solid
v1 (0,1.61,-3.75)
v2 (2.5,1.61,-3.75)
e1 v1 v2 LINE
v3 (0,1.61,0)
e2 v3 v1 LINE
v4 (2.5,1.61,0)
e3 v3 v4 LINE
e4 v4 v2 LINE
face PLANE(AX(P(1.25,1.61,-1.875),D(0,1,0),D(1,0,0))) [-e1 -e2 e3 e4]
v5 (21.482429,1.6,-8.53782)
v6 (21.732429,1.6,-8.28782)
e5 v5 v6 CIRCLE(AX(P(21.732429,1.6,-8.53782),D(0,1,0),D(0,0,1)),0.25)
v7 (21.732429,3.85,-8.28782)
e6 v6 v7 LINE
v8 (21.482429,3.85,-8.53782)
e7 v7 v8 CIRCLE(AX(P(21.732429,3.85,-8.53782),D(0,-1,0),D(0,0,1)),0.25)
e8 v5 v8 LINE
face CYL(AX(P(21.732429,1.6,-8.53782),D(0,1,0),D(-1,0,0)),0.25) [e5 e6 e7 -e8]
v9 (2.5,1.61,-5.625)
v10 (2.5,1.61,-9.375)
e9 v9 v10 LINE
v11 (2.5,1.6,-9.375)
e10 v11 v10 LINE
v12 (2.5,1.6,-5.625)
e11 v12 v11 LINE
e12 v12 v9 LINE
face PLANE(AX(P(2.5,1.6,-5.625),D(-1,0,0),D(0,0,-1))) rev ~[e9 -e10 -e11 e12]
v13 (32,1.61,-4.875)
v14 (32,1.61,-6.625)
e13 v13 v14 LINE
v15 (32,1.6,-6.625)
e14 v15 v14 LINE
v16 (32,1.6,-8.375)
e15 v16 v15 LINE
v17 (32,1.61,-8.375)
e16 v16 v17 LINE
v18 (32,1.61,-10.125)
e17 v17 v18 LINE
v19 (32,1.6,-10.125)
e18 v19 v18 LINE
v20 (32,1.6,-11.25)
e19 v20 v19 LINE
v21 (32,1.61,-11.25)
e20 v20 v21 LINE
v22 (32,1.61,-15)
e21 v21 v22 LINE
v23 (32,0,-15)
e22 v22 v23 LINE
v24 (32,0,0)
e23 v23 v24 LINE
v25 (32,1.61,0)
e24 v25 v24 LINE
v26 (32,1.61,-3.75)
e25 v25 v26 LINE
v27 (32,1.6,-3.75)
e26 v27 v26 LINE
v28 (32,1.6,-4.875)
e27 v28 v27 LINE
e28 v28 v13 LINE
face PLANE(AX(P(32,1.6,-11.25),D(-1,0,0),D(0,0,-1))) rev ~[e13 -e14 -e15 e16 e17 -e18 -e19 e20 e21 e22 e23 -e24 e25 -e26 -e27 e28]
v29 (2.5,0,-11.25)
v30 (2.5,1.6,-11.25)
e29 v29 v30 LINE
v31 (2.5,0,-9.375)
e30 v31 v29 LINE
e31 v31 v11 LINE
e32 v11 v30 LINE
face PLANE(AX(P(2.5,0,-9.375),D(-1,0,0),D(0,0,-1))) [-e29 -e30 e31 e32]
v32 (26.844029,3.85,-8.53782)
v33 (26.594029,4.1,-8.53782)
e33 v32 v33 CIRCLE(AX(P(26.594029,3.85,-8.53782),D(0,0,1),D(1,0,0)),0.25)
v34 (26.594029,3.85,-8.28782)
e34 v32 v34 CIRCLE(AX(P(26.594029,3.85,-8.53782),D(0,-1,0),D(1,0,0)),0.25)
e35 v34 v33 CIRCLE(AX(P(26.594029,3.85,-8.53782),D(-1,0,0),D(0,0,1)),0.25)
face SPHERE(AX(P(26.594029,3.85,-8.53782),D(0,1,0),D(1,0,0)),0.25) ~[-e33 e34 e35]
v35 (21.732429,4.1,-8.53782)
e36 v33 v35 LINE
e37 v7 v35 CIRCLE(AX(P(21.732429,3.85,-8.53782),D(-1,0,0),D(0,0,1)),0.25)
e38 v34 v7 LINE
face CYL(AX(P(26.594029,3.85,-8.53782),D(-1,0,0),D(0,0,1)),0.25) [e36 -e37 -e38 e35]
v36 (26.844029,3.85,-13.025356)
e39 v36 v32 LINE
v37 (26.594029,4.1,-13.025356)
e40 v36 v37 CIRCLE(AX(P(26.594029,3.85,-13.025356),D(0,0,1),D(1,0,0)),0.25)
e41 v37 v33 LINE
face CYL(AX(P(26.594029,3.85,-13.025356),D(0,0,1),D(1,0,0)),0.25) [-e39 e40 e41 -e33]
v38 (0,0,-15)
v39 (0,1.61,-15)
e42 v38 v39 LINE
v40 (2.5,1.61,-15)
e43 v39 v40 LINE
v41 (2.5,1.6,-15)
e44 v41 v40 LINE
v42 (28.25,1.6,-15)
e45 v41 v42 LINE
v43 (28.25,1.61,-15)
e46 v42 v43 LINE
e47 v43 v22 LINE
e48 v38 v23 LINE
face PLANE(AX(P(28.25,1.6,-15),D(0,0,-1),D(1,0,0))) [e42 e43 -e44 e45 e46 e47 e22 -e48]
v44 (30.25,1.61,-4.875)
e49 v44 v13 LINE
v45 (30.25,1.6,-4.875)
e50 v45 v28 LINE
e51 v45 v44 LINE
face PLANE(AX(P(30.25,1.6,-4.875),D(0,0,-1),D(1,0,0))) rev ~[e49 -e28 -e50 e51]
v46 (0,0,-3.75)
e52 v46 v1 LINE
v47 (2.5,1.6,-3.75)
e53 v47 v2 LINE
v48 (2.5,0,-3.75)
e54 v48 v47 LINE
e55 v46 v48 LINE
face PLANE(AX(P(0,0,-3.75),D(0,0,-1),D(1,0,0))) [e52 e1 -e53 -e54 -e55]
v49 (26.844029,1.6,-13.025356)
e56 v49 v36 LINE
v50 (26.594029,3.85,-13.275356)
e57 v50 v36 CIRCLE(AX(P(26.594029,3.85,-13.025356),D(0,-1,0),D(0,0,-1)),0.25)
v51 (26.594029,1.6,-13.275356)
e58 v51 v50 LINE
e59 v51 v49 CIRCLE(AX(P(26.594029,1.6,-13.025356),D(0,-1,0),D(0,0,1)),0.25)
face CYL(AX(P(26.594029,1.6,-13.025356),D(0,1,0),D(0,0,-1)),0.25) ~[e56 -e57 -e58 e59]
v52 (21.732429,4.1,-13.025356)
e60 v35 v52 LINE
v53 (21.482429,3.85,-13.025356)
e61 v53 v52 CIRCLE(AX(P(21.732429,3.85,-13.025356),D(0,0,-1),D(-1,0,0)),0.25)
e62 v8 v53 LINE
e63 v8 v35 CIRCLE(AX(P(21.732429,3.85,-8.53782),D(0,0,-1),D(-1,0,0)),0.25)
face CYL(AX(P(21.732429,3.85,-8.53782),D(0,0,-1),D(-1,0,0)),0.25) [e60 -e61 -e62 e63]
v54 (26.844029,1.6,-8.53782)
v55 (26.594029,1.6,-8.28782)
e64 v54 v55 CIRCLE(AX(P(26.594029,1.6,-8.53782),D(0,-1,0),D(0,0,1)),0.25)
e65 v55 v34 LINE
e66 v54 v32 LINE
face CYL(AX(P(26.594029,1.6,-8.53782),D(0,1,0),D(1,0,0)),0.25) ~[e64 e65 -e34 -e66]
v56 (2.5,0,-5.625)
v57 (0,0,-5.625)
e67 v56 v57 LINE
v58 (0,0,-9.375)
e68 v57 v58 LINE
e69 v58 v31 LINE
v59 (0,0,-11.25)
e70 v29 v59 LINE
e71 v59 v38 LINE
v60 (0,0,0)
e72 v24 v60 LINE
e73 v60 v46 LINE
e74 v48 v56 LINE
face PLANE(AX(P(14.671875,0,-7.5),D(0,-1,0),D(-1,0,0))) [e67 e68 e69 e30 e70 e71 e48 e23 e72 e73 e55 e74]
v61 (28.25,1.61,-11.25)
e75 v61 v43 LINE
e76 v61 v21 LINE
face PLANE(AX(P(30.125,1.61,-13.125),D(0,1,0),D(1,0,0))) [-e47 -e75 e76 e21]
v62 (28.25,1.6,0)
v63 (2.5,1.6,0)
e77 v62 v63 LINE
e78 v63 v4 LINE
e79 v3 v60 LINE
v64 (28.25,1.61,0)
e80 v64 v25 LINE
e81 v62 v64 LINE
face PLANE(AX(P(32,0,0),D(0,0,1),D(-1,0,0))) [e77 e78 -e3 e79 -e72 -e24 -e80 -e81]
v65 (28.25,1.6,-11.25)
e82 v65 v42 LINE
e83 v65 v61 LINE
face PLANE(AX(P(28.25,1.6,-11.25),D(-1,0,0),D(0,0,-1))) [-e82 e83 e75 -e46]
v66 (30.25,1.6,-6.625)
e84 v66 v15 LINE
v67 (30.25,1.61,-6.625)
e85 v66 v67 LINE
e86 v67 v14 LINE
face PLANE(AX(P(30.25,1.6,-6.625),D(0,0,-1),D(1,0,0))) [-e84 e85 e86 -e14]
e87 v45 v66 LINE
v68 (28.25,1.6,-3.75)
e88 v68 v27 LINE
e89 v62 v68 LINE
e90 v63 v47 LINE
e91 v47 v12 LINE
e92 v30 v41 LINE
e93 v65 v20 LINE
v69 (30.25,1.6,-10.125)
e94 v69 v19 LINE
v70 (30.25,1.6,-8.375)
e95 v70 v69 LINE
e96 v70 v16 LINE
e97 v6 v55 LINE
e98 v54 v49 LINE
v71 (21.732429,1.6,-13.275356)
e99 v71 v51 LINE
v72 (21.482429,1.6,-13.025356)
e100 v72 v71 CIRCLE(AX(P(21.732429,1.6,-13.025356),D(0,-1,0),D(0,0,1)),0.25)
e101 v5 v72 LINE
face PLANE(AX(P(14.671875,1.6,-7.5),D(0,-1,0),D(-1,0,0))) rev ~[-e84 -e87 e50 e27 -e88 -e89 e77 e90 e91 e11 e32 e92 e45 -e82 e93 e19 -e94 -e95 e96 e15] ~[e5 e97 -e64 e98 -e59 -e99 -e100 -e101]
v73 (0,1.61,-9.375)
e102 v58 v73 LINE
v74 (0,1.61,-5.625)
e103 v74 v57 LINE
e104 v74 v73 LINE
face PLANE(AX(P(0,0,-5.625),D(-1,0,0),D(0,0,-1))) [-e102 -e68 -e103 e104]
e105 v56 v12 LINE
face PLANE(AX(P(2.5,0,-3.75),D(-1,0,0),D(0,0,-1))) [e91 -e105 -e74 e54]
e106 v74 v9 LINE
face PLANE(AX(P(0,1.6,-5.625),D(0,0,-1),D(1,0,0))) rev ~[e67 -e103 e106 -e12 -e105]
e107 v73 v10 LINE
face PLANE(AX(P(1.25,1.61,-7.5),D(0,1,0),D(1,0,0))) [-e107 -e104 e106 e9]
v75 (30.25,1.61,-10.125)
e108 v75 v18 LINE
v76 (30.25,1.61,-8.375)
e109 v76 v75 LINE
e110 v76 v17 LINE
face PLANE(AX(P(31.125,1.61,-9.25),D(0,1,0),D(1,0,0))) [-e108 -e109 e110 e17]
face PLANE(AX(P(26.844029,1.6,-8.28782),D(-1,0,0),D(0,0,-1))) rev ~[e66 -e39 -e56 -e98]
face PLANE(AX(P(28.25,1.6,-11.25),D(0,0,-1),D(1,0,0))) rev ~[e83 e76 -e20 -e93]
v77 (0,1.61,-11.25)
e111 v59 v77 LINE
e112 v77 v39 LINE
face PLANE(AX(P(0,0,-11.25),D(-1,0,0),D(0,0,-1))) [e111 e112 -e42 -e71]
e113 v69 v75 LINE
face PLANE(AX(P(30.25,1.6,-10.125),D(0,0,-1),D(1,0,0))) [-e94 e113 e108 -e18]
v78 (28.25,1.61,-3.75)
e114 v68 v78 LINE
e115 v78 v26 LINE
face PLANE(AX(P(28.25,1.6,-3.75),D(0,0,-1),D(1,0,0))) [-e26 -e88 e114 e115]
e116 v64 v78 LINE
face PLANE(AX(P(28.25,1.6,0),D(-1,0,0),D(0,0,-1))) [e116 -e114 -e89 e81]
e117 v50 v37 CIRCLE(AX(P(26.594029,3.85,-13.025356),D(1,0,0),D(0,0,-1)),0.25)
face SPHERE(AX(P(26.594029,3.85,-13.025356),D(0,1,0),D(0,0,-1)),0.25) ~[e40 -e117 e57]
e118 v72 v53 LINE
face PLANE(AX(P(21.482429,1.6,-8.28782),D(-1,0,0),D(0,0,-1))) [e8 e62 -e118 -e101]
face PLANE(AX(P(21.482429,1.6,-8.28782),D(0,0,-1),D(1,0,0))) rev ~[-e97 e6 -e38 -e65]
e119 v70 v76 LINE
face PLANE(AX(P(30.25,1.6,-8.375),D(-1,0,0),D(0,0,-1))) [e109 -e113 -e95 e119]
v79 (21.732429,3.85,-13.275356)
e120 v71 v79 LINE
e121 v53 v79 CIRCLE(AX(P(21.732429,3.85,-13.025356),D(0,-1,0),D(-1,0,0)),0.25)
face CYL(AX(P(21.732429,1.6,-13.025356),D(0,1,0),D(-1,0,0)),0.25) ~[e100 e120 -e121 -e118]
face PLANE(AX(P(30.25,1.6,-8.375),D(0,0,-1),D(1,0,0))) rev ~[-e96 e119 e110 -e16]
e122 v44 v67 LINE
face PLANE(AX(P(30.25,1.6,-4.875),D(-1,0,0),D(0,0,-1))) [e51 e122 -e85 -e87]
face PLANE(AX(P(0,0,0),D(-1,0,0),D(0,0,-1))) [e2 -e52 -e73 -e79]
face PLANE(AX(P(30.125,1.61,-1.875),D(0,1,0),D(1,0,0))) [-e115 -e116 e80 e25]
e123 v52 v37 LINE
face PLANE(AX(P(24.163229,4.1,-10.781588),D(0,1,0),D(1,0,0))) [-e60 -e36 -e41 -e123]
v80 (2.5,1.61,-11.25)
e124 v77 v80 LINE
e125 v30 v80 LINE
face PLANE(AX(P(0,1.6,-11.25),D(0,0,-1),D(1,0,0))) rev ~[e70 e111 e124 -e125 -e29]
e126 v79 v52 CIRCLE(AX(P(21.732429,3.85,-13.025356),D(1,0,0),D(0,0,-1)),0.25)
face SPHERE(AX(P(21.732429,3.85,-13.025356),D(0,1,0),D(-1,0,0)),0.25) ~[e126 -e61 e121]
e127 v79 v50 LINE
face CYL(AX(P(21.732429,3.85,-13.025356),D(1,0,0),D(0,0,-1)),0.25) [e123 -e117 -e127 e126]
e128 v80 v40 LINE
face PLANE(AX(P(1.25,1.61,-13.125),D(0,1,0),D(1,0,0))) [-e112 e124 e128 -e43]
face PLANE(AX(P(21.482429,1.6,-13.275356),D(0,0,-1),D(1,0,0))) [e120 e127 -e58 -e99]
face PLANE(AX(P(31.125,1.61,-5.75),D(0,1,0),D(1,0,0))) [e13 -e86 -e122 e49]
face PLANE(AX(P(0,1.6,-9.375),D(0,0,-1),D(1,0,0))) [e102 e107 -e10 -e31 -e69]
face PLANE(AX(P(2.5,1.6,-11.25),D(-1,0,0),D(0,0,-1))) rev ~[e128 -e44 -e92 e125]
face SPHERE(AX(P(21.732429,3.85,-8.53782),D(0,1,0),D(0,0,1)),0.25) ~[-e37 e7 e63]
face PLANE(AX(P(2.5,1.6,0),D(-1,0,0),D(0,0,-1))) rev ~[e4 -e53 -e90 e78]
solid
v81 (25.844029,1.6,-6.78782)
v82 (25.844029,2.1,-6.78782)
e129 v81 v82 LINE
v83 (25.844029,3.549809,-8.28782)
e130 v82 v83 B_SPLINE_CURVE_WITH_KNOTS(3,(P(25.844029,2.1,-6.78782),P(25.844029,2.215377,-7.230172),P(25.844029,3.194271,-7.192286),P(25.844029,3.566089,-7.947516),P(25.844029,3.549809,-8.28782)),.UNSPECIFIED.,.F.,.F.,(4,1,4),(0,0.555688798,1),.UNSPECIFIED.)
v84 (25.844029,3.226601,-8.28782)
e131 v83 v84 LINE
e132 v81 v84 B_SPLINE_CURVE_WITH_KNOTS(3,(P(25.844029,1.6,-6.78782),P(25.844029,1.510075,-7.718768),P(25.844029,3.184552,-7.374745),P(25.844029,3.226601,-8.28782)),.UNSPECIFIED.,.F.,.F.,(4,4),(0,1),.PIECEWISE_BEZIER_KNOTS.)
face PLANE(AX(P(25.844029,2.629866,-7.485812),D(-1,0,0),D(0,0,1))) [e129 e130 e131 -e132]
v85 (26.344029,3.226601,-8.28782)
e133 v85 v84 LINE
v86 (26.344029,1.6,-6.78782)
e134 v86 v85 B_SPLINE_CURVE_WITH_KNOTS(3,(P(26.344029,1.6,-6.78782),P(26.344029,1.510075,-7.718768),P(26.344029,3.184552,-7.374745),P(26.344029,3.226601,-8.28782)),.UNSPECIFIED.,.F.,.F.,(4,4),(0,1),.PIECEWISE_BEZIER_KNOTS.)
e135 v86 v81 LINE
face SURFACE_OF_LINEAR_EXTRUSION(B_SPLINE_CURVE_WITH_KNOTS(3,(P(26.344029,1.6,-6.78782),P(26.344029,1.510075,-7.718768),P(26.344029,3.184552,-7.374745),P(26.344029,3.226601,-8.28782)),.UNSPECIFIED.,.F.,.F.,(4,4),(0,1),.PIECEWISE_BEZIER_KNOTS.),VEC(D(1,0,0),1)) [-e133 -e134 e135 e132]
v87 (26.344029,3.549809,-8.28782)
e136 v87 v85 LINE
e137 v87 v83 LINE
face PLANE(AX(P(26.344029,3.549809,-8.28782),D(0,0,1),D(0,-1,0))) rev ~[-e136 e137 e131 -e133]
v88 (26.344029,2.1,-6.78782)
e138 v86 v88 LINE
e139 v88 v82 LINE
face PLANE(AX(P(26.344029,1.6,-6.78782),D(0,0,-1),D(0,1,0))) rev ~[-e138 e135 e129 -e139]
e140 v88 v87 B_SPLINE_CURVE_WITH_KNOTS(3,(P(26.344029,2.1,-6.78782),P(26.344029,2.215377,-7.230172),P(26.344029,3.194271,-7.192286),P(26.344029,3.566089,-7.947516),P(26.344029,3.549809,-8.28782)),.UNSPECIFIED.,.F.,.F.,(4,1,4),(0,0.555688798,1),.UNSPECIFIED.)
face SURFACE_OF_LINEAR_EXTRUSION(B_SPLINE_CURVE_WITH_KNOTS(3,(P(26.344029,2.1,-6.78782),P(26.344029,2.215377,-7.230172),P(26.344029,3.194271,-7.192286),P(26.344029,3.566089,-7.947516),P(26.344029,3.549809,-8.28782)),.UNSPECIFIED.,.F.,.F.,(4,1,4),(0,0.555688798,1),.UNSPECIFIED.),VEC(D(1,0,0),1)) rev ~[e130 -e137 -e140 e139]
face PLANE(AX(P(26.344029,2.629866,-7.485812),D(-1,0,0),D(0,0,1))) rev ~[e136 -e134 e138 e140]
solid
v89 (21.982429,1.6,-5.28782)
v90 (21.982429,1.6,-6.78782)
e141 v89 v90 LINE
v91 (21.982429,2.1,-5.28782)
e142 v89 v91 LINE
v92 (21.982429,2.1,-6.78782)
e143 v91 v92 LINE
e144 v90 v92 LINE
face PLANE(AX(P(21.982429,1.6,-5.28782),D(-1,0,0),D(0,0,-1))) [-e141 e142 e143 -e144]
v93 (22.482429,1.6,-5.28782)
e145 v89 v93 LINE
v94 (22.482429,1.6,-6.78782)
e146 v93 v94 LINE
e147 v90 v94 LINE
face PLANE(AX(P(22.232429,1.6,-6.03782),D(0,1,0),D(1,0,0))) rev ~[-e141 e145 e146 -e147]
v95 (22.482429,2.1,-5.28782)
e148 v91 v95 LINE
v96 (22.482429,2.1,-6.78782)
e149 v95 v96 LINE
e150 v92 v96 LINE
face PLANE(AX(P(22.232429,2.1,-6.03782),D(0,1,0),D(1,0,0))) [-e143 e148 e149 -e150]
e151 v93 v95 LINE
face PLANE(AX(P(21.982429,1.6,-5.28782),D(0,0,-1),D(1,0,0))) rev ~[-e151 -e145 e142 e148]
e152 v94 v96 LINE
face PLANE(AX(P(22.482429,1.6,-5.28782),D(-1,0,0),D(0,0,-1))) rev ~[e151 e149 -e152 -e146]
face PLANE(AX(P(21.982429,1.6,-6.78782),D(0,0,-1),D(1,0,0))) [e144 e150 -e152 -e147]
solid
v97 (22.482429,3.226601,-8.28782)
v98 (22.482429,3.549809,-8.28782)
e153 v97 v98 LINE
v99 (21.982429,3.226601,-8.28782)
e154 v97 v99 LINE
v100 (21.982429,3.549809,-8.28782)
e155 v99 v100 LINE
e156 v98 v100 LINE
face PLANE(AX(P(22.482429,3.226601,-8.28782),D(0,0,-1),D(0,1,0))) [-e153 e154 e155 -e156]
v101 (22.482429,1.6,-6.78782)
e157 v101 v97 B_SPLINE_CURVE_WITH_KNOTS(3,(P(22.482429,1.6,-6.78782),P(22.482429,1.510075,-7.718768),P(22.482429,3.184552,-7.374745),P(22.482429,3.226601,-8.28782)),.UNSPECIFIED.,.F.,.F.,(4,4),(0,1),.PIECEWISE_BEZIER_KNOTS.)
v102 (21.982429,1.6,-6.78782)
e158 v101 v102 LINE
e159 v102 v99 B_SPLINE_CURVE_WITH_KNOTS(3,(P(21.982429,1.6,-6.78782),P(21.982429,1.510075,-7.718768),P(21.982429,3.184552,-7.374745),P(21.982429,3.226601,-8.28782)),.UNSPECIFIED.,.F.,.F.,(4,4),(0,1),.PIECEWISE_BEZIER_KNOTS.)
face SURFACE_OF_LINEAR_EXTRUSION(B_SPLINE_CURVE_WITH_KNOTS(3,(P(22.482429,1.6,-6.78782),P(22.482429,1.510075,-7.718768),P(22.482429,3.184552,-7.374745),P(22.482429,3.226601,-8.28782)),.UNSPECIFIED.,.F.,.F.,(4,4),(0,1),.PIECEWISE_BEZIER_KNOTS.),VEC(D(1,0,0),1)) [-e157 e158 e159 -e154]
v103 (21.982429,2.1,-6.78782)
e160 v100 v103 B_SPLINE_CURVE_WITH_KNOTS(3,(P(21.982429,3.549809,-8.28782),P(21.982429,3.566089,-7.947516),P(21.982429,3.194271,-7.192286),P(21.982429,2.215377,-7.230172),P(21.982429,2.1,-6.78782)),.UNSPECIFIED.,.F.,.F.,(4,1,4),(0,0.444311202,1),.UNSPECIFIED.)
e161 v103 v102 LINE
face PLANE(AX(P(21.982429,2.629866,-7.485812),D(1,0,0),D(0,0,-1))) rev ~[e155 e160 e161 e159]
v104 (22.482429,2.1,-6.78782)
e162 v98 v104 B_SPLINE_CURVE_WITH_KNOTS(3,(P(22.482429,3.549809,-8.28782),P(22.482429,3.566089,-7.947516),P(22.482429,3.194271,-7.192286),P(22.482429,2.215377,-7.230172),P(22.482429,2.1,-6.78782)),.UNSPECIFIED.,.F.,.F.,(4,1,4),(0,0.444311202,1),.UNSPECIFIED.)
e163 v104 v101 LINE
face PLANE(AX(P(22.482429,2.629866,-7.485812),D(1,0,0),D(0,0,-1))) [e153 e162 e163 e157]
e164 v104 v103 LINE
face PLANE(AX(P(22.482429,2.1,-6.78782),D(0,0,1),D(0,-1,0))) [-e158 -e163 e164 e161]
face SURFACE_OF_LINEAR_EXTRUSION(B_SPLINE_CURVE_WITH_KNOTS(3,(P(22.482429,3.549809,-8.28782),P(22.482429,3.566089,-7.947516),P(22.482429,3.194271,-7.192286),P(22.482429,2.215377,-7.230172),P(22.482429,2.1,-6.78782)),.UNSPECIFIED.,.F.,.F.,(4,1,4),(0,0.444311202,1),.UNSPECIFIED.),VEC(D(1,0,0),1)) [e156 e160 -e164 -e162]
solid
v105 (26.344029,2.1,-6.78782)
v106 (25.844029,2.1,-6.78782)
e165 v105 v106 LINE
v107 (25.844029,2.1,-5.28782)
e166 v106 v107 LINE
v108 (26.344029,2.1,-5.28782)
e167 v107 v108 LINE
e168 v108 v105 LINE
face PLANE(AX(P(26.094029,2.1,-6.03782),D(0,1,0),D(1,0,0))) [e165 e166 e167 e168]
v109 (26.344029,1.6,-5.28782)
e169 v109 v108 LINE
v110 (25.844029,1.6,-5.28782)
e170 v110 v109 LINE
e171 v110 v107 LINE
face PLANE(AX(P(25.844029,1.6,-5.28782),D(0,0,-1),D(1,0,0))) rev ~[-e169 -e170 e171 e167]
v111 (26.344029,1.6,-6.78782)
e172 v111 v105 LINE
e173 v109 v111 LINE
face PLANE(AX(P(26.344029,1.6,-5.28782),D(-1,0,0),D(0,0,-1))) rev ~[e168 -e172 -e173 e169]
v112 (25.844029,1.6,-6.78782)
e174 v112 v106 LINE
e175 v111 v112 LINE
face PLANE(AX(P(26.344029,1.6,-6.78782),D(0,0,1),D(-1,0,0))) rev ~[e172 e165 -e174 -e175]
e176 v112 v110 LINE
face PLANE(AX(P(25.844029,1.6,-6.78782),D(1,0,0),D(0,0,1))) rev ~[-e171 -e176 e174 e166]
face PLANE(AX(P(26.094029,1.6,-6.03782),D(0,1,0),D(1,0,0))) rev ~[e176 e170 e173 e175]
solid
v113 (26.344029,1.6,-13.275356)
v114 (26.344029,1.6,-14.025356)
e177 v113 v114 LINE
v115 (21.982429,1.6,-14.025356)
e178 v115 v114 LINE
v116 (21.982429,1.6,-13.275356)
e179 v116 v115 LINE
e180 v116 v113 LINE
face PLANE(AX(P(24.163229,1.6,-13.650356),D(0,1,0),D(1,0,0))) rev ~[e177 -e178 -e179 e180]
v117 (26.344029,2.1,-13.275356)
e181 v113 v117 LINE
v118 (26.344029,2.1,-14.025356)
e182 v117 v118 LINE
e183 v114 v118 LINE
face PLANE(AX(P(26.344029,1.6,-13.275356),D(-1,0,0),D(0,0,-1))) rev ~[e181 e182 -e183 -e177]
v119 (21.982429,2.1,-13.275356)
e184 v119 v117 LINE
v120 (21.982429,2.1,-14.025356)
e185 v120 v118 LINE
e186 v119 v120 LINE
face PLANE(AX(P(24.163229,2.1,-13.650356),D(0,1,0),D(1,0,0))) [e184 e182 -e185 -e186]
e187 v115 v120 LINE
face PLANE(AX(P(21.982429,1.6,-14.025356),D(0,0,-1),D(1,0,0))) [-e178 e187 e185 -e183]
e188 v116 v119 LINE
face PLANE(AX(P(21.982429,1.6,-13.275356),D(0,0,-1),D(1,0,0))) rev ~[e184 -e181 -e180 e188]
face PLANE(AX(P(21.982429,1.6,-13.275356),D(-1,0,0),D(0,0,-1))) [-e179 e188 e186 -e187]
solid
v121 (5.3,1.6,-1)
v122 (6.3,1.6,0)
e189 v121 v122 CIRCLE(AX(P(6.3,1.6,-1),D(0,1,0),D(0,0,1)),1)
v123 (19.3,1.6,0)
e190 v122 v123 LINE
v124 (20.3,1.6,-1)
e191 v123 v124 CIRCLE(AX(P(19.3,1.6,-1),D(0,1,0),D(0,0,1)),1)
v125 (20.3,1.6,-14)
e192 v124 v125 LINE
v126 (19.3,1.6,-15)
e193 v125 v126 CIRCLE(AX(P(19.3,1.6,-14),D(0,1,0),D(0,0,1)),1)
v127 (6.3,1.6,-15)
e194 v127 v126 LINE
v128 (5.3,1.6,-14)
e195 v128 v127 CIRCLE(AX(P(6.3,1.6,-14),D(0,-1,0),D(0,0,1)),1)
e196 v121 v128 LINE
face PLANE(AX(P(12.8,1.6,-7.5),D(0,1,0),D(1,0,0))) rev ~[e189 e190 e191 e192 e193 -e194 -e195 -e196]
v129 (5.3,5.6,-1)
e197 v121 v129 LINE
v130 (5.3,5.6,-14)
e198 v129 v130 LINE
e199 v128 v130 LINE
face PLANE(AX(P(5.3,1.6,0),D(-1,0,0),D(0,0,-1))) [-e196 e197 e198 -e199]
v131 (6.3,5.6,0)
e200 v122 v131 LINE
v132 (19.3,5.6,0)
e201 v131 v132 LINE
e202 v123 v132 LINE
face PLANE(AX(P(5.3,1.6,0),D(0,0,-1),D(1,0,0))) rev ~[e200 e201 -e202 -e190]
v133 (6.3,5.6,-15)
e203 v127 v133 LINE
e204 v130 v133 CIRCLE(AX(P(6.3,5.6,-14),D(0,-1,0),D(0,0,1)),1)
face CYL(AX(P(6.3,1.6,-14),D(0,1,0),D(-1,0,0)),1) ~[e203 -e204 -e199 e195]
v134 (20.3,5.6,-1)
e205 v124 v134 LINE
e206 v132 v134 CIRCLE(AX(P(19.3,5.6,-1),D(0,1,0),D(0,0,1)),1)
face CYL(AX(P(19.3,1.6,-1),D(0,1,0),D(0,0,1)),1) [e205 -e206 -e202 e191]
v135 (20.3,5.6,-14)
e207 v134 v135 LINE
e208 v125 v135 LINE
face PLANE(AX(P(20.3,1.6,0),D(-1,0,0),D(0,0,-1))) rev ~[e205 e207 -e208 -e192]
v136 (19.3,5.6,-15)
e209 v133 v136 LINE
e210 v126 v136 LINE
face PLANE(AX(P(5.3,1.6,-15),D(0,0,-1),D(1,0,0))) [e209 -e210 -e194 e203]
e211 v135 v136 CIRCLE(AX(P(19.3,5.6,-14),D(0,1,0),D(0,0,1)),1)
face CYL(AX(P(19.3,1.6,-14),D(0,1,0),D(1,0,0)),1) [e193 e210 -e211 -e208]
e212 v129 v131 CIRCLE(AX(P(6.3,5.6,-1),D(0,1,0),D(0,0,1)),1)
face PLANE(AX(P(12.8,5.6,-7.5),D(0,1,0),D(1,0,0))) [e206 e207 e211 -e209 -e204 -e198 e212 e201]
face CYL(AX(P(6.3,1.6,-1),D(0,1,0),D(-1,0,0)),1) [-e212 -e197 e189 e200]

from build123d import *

# Parameters (mm, degrees)
BOSS_EXTRUDE1_DEPTH   = 1.6
SKETCH2_W             = 15
SKETCH2_H             = 15
BOSS_EXTRUDE2_DEPTH   = 4
FILLET1_R             = 1
SKETCH3_W             = 3.75
SKETCH3_H             = 3.75
SKETCH3_W_2           = 1.75
SKETCH3_H_2           = 1.75
SKETCH3_W_3           = 2.5
BOSS_EXTRUDE3_DEPTH   = 0.01
SKETCH4_W             = 5.361600472
SKETCH4_H             = 4.987535322
BOSS_EXTRUDE4_DEPTH   = 2.5
BOSS_EXTRUDE5_DEPTH   = 0.5
SKETCH6_W             = 0.5
SKETCH6_H             = 1.5
BOSS_EXTRUDE5_2_DEPTH = 0.5
SKETCH6_W_2           = 4.361600472
SKETCH6_H_2           = 0.75
BOSS_EXTRUDE5_3_DEPTH = 0.5
BOSS_EXTRUDE6_DEPTH   = 0.5
BOSS_EXTRUDE7_DEPTH   = 0.5
FILLET2_R             = 0.25
FILLET3_R             = 0.25


with BuildPart() as part:
    # Sketch1 → Boss-Extrude1 (new body)
    with BuildSketch(Plane(origin=(0, 0, 0), x_dir=(1, 0, 0), z_dir=(0, 1, 0))):
        Polygon((2.5, 9.375), (2.5, 11.25), (0, 11.25), (0, 15), (32, 15), (32, 0), (0, 0), (0, 3.75), (2.5, 3.75), (2.5, 5.625), (0, 5.625), (0, 9.375), align=None)
    extrude(amount=BOSS_EXTRUDE1_DEPTH)

    # Sketch3 → Boss-Extrude3 (add)
    with BuildSketch(Plane(origin=(0, 1.6, 0), x_dir=(1, 0, 0), z_dir=(0, 1, 0))):
        with Locations((30.125, 13.125)):
            Rectangle(SKETCH3_W, SKETCH3_H)
        with Locations((31.125, 9.25)):
            Rectangle(SKETCH3_W_2, SKETCH3_H_2)
        with Locations((31.125, 5.75)):
            Rectangle(SKETCH3_W_2, SKETCH3_H_2)
        with Locations((30.125, 1.875)):
            Rectangle(SKETCH3_W, SKETCH3_H)
        with Locations((1.25, 13.125)):
            Rectangle(SKETCH3_W_3, SKETCH3_H)
        with Locations((1.25, 7.5)):
            Rectangle(SKETCH3_W_3, SKETCH3_H)
        with Locations((1.25, 1.875)):
            Rectangle(SKETCH3_W_3, SKETCH3_H)
    extrude(amount=BOSS_EXTRUDE3_DEPTH)

    # Sketch4 → Boss-Extrude4 (add)
    with BuildSketch(Plane(origin=(0, 1.6, 0), x_dir=(1, 0, 0), z_dir=(0, 1, 0))):
        with Locations((24.163228826, 10.781587961)):
            Rectangle(SKETCH4_W, SKETCH4_H)
    extrude(amount=BOSS_EXTRUDE4_DEPTH)

    # Fillet2
    fillet2_edges = [part.edges().sort_by_distance(p)[0] for p in [
        (21.48242859, 2.85, -8.2878203),
        (26.844029062, 2.85, -8.2878203),
        (26.844029062, 2.85, -13.275355622),
        (21.48242859, 2.85, -13.275355622),
    ]]
    fillet(fillet2_edges, radius=FILLET2_R)

    # Fillet3
    fillet3_edges = [part.edges().sort_by_distance(p)[0] for p in [
        (21.48242859, 4.1, -10.781587961),
        (24.163228826, 4.1, -13.275355622),
        (24.163228826, 4.1, -8.2878203),
        (26.844029062, 4.1, -10.781587961),
        (26.770805757, 4.1, -13.202132318),
        (26.770805757, 4.1, -8.361043604),
        (21.555651895, 4.1, -8.361043604),
        (21.555651895, 4.1, -13.202132318),
    ]]
    fillet(fillet3_edges, radius=FILLET3_R)


with BuildPart() as body_2:
    # Sketch2 → Boss-Extrude2 (new body)
    with BuildSketch(Plane(origin=(0, 1.6, 0), x_dir=(1, 0, 0), z_dir=(0, 1, 0))):
        with Locations((12.8, 7.5)):
            Rectangle(SKETCH2_W, SKETCH2_H)
    extrude(amount=BOSS_EXTRUDE2_DEPTH)

    # Fillet1
    fillet1_edges = [body_2.edges().sort_by_distance(p)[0] for p in [
        (5.3, 3.6, -15),
        (20.3, 3.6, -15),
        (20.3, 3.6, 0),
        (5.3, 3.6, 0),
    ]]
    fillet(fillet1_edges, radius=FILLET1_R)


with BuildPart() as body_3:
    # Sketch6 → Boss-Extrude5 (new body)
    with BuildSketch(Plane(origin=(0, 1.6, 0), x_dir=(1, 0, 0), z_dir=(0, 1, 0))):
        Polygon((26.344029062, 6.628226466), (26.344029062, 6.7878203), (25.844029062, 6.7878203), (25.844029062, 6.628226466), (25.844029062, 5.2878203), (26.344029062, 5.2878203), align=None)
    extrude(amount=BOSS_EXTRUDE5_DEPTH)


with BuildPart() as body_4:
    # Sketch6 → Boss-Extrude5 2 (new body)
    with BuildSketch(Plane(origin=(0, 1.6, 0), x_dir=(1, 0, 0), z_dir=(0, 1, 0))):
        with Locations((22.23242859, 6.0378203)):
            Rectangle(SKETCH6_W, SKETCH6_H)
    extrude(amount=BOSS_EXTRUDE5_2_DEPTH)


with BuildPart() as body_5:
    # Sketch6 → Boss-Extrude5 3 (new body)
    with BuildSketch(Plane(origin=(0, 1.6, 0), x_dir=(1, 0, 0), z_dir=(0, 1, 0))):
        with Locations((24.163228826, 13.650355622)):
            Rectangle(SKETCH6_W_2, SKETCH6_H_2)
    extrude(amount=BOSS_EXTRUDE5_3_DEPTH)


with BuildPart() as body_6:
    # Sketch7 → Boss-Extrude6 (new body)
    with BuildSketch(Plane(origin=(26.344029062, 0, 0), x_dir=(0, 0, -1), z_dir=(1, 0, 0))):
        with BuildLine():
            add(Edge.make_bspline(
                [(6.7878203, 2.1), (7.230171652, 2.215377346), (7.192285938, 3.194271107), (7.947516495, 3.566089293), (8.2878203, 3.549808919)],
                knots=[0, 0, 0, 0, 0.555688798, 1, 1, 1, 1], degree=3))
            Line((8.2878203, 3.549808919), (8.2878203, 3.226600806))
            add(Edge.make_bspline(
                [(6.7878203, 1.6), (7.7187684, 1.510074693), (7.374744979, 3.184552482), (8.2878203, 3.226600806)],
                knots=[0, 0, 0, 0, 1, 1, 1, 1], degree=3))
            Line((6.7878203, 1.6), (6.7878203, 2.1))
        make_face()
    extrude(amount=-BOSS_EXTRUDE6_DEPTH)


with BuildPart() as body_7:
    # Sketch8 → Boss-Extrude7 (new body)
    with BuildSketch(Plane(origin=(22.48242859, 0, 0), x_dir=(0, 0, -1), z_dir=(1, 0, 0))):
        with BuildLine():
            Line((6.7878203, 2.1), (6.7878203, 1.6))
            add(Edge.make_bspline(
                [(6.7878203, 1.6), (7.7187684, 1.510074693), (7.374744979, 3.184552482), (8.2878203, 3.226600806)],
                knots=[0, 0, 0, 0, 1, 1, 1, 1], degree=3))
            Line((8.2878203, 3.226600806), (8.2878203, 3.549808919))
            add(Edge.make_bspline(
                [(8.2878203, 3.549808919), (7.947516495, 3.566089293), (7.192285938, 3.194271107), (7.230171652, 2.215377346), (6.7878203, 2.1)],
                knots=[0, 0, 0, 0, 0.444311202, 1, 1, 1, 1], degree=3))
        make_face()
    extrude(amount=-BOSS_EXTRUDE7_DEPTH)


solid = Compound([part.part, body_2.part, body_3.part, body_4.part, body_5.part, body_6.part, body_7.part])
